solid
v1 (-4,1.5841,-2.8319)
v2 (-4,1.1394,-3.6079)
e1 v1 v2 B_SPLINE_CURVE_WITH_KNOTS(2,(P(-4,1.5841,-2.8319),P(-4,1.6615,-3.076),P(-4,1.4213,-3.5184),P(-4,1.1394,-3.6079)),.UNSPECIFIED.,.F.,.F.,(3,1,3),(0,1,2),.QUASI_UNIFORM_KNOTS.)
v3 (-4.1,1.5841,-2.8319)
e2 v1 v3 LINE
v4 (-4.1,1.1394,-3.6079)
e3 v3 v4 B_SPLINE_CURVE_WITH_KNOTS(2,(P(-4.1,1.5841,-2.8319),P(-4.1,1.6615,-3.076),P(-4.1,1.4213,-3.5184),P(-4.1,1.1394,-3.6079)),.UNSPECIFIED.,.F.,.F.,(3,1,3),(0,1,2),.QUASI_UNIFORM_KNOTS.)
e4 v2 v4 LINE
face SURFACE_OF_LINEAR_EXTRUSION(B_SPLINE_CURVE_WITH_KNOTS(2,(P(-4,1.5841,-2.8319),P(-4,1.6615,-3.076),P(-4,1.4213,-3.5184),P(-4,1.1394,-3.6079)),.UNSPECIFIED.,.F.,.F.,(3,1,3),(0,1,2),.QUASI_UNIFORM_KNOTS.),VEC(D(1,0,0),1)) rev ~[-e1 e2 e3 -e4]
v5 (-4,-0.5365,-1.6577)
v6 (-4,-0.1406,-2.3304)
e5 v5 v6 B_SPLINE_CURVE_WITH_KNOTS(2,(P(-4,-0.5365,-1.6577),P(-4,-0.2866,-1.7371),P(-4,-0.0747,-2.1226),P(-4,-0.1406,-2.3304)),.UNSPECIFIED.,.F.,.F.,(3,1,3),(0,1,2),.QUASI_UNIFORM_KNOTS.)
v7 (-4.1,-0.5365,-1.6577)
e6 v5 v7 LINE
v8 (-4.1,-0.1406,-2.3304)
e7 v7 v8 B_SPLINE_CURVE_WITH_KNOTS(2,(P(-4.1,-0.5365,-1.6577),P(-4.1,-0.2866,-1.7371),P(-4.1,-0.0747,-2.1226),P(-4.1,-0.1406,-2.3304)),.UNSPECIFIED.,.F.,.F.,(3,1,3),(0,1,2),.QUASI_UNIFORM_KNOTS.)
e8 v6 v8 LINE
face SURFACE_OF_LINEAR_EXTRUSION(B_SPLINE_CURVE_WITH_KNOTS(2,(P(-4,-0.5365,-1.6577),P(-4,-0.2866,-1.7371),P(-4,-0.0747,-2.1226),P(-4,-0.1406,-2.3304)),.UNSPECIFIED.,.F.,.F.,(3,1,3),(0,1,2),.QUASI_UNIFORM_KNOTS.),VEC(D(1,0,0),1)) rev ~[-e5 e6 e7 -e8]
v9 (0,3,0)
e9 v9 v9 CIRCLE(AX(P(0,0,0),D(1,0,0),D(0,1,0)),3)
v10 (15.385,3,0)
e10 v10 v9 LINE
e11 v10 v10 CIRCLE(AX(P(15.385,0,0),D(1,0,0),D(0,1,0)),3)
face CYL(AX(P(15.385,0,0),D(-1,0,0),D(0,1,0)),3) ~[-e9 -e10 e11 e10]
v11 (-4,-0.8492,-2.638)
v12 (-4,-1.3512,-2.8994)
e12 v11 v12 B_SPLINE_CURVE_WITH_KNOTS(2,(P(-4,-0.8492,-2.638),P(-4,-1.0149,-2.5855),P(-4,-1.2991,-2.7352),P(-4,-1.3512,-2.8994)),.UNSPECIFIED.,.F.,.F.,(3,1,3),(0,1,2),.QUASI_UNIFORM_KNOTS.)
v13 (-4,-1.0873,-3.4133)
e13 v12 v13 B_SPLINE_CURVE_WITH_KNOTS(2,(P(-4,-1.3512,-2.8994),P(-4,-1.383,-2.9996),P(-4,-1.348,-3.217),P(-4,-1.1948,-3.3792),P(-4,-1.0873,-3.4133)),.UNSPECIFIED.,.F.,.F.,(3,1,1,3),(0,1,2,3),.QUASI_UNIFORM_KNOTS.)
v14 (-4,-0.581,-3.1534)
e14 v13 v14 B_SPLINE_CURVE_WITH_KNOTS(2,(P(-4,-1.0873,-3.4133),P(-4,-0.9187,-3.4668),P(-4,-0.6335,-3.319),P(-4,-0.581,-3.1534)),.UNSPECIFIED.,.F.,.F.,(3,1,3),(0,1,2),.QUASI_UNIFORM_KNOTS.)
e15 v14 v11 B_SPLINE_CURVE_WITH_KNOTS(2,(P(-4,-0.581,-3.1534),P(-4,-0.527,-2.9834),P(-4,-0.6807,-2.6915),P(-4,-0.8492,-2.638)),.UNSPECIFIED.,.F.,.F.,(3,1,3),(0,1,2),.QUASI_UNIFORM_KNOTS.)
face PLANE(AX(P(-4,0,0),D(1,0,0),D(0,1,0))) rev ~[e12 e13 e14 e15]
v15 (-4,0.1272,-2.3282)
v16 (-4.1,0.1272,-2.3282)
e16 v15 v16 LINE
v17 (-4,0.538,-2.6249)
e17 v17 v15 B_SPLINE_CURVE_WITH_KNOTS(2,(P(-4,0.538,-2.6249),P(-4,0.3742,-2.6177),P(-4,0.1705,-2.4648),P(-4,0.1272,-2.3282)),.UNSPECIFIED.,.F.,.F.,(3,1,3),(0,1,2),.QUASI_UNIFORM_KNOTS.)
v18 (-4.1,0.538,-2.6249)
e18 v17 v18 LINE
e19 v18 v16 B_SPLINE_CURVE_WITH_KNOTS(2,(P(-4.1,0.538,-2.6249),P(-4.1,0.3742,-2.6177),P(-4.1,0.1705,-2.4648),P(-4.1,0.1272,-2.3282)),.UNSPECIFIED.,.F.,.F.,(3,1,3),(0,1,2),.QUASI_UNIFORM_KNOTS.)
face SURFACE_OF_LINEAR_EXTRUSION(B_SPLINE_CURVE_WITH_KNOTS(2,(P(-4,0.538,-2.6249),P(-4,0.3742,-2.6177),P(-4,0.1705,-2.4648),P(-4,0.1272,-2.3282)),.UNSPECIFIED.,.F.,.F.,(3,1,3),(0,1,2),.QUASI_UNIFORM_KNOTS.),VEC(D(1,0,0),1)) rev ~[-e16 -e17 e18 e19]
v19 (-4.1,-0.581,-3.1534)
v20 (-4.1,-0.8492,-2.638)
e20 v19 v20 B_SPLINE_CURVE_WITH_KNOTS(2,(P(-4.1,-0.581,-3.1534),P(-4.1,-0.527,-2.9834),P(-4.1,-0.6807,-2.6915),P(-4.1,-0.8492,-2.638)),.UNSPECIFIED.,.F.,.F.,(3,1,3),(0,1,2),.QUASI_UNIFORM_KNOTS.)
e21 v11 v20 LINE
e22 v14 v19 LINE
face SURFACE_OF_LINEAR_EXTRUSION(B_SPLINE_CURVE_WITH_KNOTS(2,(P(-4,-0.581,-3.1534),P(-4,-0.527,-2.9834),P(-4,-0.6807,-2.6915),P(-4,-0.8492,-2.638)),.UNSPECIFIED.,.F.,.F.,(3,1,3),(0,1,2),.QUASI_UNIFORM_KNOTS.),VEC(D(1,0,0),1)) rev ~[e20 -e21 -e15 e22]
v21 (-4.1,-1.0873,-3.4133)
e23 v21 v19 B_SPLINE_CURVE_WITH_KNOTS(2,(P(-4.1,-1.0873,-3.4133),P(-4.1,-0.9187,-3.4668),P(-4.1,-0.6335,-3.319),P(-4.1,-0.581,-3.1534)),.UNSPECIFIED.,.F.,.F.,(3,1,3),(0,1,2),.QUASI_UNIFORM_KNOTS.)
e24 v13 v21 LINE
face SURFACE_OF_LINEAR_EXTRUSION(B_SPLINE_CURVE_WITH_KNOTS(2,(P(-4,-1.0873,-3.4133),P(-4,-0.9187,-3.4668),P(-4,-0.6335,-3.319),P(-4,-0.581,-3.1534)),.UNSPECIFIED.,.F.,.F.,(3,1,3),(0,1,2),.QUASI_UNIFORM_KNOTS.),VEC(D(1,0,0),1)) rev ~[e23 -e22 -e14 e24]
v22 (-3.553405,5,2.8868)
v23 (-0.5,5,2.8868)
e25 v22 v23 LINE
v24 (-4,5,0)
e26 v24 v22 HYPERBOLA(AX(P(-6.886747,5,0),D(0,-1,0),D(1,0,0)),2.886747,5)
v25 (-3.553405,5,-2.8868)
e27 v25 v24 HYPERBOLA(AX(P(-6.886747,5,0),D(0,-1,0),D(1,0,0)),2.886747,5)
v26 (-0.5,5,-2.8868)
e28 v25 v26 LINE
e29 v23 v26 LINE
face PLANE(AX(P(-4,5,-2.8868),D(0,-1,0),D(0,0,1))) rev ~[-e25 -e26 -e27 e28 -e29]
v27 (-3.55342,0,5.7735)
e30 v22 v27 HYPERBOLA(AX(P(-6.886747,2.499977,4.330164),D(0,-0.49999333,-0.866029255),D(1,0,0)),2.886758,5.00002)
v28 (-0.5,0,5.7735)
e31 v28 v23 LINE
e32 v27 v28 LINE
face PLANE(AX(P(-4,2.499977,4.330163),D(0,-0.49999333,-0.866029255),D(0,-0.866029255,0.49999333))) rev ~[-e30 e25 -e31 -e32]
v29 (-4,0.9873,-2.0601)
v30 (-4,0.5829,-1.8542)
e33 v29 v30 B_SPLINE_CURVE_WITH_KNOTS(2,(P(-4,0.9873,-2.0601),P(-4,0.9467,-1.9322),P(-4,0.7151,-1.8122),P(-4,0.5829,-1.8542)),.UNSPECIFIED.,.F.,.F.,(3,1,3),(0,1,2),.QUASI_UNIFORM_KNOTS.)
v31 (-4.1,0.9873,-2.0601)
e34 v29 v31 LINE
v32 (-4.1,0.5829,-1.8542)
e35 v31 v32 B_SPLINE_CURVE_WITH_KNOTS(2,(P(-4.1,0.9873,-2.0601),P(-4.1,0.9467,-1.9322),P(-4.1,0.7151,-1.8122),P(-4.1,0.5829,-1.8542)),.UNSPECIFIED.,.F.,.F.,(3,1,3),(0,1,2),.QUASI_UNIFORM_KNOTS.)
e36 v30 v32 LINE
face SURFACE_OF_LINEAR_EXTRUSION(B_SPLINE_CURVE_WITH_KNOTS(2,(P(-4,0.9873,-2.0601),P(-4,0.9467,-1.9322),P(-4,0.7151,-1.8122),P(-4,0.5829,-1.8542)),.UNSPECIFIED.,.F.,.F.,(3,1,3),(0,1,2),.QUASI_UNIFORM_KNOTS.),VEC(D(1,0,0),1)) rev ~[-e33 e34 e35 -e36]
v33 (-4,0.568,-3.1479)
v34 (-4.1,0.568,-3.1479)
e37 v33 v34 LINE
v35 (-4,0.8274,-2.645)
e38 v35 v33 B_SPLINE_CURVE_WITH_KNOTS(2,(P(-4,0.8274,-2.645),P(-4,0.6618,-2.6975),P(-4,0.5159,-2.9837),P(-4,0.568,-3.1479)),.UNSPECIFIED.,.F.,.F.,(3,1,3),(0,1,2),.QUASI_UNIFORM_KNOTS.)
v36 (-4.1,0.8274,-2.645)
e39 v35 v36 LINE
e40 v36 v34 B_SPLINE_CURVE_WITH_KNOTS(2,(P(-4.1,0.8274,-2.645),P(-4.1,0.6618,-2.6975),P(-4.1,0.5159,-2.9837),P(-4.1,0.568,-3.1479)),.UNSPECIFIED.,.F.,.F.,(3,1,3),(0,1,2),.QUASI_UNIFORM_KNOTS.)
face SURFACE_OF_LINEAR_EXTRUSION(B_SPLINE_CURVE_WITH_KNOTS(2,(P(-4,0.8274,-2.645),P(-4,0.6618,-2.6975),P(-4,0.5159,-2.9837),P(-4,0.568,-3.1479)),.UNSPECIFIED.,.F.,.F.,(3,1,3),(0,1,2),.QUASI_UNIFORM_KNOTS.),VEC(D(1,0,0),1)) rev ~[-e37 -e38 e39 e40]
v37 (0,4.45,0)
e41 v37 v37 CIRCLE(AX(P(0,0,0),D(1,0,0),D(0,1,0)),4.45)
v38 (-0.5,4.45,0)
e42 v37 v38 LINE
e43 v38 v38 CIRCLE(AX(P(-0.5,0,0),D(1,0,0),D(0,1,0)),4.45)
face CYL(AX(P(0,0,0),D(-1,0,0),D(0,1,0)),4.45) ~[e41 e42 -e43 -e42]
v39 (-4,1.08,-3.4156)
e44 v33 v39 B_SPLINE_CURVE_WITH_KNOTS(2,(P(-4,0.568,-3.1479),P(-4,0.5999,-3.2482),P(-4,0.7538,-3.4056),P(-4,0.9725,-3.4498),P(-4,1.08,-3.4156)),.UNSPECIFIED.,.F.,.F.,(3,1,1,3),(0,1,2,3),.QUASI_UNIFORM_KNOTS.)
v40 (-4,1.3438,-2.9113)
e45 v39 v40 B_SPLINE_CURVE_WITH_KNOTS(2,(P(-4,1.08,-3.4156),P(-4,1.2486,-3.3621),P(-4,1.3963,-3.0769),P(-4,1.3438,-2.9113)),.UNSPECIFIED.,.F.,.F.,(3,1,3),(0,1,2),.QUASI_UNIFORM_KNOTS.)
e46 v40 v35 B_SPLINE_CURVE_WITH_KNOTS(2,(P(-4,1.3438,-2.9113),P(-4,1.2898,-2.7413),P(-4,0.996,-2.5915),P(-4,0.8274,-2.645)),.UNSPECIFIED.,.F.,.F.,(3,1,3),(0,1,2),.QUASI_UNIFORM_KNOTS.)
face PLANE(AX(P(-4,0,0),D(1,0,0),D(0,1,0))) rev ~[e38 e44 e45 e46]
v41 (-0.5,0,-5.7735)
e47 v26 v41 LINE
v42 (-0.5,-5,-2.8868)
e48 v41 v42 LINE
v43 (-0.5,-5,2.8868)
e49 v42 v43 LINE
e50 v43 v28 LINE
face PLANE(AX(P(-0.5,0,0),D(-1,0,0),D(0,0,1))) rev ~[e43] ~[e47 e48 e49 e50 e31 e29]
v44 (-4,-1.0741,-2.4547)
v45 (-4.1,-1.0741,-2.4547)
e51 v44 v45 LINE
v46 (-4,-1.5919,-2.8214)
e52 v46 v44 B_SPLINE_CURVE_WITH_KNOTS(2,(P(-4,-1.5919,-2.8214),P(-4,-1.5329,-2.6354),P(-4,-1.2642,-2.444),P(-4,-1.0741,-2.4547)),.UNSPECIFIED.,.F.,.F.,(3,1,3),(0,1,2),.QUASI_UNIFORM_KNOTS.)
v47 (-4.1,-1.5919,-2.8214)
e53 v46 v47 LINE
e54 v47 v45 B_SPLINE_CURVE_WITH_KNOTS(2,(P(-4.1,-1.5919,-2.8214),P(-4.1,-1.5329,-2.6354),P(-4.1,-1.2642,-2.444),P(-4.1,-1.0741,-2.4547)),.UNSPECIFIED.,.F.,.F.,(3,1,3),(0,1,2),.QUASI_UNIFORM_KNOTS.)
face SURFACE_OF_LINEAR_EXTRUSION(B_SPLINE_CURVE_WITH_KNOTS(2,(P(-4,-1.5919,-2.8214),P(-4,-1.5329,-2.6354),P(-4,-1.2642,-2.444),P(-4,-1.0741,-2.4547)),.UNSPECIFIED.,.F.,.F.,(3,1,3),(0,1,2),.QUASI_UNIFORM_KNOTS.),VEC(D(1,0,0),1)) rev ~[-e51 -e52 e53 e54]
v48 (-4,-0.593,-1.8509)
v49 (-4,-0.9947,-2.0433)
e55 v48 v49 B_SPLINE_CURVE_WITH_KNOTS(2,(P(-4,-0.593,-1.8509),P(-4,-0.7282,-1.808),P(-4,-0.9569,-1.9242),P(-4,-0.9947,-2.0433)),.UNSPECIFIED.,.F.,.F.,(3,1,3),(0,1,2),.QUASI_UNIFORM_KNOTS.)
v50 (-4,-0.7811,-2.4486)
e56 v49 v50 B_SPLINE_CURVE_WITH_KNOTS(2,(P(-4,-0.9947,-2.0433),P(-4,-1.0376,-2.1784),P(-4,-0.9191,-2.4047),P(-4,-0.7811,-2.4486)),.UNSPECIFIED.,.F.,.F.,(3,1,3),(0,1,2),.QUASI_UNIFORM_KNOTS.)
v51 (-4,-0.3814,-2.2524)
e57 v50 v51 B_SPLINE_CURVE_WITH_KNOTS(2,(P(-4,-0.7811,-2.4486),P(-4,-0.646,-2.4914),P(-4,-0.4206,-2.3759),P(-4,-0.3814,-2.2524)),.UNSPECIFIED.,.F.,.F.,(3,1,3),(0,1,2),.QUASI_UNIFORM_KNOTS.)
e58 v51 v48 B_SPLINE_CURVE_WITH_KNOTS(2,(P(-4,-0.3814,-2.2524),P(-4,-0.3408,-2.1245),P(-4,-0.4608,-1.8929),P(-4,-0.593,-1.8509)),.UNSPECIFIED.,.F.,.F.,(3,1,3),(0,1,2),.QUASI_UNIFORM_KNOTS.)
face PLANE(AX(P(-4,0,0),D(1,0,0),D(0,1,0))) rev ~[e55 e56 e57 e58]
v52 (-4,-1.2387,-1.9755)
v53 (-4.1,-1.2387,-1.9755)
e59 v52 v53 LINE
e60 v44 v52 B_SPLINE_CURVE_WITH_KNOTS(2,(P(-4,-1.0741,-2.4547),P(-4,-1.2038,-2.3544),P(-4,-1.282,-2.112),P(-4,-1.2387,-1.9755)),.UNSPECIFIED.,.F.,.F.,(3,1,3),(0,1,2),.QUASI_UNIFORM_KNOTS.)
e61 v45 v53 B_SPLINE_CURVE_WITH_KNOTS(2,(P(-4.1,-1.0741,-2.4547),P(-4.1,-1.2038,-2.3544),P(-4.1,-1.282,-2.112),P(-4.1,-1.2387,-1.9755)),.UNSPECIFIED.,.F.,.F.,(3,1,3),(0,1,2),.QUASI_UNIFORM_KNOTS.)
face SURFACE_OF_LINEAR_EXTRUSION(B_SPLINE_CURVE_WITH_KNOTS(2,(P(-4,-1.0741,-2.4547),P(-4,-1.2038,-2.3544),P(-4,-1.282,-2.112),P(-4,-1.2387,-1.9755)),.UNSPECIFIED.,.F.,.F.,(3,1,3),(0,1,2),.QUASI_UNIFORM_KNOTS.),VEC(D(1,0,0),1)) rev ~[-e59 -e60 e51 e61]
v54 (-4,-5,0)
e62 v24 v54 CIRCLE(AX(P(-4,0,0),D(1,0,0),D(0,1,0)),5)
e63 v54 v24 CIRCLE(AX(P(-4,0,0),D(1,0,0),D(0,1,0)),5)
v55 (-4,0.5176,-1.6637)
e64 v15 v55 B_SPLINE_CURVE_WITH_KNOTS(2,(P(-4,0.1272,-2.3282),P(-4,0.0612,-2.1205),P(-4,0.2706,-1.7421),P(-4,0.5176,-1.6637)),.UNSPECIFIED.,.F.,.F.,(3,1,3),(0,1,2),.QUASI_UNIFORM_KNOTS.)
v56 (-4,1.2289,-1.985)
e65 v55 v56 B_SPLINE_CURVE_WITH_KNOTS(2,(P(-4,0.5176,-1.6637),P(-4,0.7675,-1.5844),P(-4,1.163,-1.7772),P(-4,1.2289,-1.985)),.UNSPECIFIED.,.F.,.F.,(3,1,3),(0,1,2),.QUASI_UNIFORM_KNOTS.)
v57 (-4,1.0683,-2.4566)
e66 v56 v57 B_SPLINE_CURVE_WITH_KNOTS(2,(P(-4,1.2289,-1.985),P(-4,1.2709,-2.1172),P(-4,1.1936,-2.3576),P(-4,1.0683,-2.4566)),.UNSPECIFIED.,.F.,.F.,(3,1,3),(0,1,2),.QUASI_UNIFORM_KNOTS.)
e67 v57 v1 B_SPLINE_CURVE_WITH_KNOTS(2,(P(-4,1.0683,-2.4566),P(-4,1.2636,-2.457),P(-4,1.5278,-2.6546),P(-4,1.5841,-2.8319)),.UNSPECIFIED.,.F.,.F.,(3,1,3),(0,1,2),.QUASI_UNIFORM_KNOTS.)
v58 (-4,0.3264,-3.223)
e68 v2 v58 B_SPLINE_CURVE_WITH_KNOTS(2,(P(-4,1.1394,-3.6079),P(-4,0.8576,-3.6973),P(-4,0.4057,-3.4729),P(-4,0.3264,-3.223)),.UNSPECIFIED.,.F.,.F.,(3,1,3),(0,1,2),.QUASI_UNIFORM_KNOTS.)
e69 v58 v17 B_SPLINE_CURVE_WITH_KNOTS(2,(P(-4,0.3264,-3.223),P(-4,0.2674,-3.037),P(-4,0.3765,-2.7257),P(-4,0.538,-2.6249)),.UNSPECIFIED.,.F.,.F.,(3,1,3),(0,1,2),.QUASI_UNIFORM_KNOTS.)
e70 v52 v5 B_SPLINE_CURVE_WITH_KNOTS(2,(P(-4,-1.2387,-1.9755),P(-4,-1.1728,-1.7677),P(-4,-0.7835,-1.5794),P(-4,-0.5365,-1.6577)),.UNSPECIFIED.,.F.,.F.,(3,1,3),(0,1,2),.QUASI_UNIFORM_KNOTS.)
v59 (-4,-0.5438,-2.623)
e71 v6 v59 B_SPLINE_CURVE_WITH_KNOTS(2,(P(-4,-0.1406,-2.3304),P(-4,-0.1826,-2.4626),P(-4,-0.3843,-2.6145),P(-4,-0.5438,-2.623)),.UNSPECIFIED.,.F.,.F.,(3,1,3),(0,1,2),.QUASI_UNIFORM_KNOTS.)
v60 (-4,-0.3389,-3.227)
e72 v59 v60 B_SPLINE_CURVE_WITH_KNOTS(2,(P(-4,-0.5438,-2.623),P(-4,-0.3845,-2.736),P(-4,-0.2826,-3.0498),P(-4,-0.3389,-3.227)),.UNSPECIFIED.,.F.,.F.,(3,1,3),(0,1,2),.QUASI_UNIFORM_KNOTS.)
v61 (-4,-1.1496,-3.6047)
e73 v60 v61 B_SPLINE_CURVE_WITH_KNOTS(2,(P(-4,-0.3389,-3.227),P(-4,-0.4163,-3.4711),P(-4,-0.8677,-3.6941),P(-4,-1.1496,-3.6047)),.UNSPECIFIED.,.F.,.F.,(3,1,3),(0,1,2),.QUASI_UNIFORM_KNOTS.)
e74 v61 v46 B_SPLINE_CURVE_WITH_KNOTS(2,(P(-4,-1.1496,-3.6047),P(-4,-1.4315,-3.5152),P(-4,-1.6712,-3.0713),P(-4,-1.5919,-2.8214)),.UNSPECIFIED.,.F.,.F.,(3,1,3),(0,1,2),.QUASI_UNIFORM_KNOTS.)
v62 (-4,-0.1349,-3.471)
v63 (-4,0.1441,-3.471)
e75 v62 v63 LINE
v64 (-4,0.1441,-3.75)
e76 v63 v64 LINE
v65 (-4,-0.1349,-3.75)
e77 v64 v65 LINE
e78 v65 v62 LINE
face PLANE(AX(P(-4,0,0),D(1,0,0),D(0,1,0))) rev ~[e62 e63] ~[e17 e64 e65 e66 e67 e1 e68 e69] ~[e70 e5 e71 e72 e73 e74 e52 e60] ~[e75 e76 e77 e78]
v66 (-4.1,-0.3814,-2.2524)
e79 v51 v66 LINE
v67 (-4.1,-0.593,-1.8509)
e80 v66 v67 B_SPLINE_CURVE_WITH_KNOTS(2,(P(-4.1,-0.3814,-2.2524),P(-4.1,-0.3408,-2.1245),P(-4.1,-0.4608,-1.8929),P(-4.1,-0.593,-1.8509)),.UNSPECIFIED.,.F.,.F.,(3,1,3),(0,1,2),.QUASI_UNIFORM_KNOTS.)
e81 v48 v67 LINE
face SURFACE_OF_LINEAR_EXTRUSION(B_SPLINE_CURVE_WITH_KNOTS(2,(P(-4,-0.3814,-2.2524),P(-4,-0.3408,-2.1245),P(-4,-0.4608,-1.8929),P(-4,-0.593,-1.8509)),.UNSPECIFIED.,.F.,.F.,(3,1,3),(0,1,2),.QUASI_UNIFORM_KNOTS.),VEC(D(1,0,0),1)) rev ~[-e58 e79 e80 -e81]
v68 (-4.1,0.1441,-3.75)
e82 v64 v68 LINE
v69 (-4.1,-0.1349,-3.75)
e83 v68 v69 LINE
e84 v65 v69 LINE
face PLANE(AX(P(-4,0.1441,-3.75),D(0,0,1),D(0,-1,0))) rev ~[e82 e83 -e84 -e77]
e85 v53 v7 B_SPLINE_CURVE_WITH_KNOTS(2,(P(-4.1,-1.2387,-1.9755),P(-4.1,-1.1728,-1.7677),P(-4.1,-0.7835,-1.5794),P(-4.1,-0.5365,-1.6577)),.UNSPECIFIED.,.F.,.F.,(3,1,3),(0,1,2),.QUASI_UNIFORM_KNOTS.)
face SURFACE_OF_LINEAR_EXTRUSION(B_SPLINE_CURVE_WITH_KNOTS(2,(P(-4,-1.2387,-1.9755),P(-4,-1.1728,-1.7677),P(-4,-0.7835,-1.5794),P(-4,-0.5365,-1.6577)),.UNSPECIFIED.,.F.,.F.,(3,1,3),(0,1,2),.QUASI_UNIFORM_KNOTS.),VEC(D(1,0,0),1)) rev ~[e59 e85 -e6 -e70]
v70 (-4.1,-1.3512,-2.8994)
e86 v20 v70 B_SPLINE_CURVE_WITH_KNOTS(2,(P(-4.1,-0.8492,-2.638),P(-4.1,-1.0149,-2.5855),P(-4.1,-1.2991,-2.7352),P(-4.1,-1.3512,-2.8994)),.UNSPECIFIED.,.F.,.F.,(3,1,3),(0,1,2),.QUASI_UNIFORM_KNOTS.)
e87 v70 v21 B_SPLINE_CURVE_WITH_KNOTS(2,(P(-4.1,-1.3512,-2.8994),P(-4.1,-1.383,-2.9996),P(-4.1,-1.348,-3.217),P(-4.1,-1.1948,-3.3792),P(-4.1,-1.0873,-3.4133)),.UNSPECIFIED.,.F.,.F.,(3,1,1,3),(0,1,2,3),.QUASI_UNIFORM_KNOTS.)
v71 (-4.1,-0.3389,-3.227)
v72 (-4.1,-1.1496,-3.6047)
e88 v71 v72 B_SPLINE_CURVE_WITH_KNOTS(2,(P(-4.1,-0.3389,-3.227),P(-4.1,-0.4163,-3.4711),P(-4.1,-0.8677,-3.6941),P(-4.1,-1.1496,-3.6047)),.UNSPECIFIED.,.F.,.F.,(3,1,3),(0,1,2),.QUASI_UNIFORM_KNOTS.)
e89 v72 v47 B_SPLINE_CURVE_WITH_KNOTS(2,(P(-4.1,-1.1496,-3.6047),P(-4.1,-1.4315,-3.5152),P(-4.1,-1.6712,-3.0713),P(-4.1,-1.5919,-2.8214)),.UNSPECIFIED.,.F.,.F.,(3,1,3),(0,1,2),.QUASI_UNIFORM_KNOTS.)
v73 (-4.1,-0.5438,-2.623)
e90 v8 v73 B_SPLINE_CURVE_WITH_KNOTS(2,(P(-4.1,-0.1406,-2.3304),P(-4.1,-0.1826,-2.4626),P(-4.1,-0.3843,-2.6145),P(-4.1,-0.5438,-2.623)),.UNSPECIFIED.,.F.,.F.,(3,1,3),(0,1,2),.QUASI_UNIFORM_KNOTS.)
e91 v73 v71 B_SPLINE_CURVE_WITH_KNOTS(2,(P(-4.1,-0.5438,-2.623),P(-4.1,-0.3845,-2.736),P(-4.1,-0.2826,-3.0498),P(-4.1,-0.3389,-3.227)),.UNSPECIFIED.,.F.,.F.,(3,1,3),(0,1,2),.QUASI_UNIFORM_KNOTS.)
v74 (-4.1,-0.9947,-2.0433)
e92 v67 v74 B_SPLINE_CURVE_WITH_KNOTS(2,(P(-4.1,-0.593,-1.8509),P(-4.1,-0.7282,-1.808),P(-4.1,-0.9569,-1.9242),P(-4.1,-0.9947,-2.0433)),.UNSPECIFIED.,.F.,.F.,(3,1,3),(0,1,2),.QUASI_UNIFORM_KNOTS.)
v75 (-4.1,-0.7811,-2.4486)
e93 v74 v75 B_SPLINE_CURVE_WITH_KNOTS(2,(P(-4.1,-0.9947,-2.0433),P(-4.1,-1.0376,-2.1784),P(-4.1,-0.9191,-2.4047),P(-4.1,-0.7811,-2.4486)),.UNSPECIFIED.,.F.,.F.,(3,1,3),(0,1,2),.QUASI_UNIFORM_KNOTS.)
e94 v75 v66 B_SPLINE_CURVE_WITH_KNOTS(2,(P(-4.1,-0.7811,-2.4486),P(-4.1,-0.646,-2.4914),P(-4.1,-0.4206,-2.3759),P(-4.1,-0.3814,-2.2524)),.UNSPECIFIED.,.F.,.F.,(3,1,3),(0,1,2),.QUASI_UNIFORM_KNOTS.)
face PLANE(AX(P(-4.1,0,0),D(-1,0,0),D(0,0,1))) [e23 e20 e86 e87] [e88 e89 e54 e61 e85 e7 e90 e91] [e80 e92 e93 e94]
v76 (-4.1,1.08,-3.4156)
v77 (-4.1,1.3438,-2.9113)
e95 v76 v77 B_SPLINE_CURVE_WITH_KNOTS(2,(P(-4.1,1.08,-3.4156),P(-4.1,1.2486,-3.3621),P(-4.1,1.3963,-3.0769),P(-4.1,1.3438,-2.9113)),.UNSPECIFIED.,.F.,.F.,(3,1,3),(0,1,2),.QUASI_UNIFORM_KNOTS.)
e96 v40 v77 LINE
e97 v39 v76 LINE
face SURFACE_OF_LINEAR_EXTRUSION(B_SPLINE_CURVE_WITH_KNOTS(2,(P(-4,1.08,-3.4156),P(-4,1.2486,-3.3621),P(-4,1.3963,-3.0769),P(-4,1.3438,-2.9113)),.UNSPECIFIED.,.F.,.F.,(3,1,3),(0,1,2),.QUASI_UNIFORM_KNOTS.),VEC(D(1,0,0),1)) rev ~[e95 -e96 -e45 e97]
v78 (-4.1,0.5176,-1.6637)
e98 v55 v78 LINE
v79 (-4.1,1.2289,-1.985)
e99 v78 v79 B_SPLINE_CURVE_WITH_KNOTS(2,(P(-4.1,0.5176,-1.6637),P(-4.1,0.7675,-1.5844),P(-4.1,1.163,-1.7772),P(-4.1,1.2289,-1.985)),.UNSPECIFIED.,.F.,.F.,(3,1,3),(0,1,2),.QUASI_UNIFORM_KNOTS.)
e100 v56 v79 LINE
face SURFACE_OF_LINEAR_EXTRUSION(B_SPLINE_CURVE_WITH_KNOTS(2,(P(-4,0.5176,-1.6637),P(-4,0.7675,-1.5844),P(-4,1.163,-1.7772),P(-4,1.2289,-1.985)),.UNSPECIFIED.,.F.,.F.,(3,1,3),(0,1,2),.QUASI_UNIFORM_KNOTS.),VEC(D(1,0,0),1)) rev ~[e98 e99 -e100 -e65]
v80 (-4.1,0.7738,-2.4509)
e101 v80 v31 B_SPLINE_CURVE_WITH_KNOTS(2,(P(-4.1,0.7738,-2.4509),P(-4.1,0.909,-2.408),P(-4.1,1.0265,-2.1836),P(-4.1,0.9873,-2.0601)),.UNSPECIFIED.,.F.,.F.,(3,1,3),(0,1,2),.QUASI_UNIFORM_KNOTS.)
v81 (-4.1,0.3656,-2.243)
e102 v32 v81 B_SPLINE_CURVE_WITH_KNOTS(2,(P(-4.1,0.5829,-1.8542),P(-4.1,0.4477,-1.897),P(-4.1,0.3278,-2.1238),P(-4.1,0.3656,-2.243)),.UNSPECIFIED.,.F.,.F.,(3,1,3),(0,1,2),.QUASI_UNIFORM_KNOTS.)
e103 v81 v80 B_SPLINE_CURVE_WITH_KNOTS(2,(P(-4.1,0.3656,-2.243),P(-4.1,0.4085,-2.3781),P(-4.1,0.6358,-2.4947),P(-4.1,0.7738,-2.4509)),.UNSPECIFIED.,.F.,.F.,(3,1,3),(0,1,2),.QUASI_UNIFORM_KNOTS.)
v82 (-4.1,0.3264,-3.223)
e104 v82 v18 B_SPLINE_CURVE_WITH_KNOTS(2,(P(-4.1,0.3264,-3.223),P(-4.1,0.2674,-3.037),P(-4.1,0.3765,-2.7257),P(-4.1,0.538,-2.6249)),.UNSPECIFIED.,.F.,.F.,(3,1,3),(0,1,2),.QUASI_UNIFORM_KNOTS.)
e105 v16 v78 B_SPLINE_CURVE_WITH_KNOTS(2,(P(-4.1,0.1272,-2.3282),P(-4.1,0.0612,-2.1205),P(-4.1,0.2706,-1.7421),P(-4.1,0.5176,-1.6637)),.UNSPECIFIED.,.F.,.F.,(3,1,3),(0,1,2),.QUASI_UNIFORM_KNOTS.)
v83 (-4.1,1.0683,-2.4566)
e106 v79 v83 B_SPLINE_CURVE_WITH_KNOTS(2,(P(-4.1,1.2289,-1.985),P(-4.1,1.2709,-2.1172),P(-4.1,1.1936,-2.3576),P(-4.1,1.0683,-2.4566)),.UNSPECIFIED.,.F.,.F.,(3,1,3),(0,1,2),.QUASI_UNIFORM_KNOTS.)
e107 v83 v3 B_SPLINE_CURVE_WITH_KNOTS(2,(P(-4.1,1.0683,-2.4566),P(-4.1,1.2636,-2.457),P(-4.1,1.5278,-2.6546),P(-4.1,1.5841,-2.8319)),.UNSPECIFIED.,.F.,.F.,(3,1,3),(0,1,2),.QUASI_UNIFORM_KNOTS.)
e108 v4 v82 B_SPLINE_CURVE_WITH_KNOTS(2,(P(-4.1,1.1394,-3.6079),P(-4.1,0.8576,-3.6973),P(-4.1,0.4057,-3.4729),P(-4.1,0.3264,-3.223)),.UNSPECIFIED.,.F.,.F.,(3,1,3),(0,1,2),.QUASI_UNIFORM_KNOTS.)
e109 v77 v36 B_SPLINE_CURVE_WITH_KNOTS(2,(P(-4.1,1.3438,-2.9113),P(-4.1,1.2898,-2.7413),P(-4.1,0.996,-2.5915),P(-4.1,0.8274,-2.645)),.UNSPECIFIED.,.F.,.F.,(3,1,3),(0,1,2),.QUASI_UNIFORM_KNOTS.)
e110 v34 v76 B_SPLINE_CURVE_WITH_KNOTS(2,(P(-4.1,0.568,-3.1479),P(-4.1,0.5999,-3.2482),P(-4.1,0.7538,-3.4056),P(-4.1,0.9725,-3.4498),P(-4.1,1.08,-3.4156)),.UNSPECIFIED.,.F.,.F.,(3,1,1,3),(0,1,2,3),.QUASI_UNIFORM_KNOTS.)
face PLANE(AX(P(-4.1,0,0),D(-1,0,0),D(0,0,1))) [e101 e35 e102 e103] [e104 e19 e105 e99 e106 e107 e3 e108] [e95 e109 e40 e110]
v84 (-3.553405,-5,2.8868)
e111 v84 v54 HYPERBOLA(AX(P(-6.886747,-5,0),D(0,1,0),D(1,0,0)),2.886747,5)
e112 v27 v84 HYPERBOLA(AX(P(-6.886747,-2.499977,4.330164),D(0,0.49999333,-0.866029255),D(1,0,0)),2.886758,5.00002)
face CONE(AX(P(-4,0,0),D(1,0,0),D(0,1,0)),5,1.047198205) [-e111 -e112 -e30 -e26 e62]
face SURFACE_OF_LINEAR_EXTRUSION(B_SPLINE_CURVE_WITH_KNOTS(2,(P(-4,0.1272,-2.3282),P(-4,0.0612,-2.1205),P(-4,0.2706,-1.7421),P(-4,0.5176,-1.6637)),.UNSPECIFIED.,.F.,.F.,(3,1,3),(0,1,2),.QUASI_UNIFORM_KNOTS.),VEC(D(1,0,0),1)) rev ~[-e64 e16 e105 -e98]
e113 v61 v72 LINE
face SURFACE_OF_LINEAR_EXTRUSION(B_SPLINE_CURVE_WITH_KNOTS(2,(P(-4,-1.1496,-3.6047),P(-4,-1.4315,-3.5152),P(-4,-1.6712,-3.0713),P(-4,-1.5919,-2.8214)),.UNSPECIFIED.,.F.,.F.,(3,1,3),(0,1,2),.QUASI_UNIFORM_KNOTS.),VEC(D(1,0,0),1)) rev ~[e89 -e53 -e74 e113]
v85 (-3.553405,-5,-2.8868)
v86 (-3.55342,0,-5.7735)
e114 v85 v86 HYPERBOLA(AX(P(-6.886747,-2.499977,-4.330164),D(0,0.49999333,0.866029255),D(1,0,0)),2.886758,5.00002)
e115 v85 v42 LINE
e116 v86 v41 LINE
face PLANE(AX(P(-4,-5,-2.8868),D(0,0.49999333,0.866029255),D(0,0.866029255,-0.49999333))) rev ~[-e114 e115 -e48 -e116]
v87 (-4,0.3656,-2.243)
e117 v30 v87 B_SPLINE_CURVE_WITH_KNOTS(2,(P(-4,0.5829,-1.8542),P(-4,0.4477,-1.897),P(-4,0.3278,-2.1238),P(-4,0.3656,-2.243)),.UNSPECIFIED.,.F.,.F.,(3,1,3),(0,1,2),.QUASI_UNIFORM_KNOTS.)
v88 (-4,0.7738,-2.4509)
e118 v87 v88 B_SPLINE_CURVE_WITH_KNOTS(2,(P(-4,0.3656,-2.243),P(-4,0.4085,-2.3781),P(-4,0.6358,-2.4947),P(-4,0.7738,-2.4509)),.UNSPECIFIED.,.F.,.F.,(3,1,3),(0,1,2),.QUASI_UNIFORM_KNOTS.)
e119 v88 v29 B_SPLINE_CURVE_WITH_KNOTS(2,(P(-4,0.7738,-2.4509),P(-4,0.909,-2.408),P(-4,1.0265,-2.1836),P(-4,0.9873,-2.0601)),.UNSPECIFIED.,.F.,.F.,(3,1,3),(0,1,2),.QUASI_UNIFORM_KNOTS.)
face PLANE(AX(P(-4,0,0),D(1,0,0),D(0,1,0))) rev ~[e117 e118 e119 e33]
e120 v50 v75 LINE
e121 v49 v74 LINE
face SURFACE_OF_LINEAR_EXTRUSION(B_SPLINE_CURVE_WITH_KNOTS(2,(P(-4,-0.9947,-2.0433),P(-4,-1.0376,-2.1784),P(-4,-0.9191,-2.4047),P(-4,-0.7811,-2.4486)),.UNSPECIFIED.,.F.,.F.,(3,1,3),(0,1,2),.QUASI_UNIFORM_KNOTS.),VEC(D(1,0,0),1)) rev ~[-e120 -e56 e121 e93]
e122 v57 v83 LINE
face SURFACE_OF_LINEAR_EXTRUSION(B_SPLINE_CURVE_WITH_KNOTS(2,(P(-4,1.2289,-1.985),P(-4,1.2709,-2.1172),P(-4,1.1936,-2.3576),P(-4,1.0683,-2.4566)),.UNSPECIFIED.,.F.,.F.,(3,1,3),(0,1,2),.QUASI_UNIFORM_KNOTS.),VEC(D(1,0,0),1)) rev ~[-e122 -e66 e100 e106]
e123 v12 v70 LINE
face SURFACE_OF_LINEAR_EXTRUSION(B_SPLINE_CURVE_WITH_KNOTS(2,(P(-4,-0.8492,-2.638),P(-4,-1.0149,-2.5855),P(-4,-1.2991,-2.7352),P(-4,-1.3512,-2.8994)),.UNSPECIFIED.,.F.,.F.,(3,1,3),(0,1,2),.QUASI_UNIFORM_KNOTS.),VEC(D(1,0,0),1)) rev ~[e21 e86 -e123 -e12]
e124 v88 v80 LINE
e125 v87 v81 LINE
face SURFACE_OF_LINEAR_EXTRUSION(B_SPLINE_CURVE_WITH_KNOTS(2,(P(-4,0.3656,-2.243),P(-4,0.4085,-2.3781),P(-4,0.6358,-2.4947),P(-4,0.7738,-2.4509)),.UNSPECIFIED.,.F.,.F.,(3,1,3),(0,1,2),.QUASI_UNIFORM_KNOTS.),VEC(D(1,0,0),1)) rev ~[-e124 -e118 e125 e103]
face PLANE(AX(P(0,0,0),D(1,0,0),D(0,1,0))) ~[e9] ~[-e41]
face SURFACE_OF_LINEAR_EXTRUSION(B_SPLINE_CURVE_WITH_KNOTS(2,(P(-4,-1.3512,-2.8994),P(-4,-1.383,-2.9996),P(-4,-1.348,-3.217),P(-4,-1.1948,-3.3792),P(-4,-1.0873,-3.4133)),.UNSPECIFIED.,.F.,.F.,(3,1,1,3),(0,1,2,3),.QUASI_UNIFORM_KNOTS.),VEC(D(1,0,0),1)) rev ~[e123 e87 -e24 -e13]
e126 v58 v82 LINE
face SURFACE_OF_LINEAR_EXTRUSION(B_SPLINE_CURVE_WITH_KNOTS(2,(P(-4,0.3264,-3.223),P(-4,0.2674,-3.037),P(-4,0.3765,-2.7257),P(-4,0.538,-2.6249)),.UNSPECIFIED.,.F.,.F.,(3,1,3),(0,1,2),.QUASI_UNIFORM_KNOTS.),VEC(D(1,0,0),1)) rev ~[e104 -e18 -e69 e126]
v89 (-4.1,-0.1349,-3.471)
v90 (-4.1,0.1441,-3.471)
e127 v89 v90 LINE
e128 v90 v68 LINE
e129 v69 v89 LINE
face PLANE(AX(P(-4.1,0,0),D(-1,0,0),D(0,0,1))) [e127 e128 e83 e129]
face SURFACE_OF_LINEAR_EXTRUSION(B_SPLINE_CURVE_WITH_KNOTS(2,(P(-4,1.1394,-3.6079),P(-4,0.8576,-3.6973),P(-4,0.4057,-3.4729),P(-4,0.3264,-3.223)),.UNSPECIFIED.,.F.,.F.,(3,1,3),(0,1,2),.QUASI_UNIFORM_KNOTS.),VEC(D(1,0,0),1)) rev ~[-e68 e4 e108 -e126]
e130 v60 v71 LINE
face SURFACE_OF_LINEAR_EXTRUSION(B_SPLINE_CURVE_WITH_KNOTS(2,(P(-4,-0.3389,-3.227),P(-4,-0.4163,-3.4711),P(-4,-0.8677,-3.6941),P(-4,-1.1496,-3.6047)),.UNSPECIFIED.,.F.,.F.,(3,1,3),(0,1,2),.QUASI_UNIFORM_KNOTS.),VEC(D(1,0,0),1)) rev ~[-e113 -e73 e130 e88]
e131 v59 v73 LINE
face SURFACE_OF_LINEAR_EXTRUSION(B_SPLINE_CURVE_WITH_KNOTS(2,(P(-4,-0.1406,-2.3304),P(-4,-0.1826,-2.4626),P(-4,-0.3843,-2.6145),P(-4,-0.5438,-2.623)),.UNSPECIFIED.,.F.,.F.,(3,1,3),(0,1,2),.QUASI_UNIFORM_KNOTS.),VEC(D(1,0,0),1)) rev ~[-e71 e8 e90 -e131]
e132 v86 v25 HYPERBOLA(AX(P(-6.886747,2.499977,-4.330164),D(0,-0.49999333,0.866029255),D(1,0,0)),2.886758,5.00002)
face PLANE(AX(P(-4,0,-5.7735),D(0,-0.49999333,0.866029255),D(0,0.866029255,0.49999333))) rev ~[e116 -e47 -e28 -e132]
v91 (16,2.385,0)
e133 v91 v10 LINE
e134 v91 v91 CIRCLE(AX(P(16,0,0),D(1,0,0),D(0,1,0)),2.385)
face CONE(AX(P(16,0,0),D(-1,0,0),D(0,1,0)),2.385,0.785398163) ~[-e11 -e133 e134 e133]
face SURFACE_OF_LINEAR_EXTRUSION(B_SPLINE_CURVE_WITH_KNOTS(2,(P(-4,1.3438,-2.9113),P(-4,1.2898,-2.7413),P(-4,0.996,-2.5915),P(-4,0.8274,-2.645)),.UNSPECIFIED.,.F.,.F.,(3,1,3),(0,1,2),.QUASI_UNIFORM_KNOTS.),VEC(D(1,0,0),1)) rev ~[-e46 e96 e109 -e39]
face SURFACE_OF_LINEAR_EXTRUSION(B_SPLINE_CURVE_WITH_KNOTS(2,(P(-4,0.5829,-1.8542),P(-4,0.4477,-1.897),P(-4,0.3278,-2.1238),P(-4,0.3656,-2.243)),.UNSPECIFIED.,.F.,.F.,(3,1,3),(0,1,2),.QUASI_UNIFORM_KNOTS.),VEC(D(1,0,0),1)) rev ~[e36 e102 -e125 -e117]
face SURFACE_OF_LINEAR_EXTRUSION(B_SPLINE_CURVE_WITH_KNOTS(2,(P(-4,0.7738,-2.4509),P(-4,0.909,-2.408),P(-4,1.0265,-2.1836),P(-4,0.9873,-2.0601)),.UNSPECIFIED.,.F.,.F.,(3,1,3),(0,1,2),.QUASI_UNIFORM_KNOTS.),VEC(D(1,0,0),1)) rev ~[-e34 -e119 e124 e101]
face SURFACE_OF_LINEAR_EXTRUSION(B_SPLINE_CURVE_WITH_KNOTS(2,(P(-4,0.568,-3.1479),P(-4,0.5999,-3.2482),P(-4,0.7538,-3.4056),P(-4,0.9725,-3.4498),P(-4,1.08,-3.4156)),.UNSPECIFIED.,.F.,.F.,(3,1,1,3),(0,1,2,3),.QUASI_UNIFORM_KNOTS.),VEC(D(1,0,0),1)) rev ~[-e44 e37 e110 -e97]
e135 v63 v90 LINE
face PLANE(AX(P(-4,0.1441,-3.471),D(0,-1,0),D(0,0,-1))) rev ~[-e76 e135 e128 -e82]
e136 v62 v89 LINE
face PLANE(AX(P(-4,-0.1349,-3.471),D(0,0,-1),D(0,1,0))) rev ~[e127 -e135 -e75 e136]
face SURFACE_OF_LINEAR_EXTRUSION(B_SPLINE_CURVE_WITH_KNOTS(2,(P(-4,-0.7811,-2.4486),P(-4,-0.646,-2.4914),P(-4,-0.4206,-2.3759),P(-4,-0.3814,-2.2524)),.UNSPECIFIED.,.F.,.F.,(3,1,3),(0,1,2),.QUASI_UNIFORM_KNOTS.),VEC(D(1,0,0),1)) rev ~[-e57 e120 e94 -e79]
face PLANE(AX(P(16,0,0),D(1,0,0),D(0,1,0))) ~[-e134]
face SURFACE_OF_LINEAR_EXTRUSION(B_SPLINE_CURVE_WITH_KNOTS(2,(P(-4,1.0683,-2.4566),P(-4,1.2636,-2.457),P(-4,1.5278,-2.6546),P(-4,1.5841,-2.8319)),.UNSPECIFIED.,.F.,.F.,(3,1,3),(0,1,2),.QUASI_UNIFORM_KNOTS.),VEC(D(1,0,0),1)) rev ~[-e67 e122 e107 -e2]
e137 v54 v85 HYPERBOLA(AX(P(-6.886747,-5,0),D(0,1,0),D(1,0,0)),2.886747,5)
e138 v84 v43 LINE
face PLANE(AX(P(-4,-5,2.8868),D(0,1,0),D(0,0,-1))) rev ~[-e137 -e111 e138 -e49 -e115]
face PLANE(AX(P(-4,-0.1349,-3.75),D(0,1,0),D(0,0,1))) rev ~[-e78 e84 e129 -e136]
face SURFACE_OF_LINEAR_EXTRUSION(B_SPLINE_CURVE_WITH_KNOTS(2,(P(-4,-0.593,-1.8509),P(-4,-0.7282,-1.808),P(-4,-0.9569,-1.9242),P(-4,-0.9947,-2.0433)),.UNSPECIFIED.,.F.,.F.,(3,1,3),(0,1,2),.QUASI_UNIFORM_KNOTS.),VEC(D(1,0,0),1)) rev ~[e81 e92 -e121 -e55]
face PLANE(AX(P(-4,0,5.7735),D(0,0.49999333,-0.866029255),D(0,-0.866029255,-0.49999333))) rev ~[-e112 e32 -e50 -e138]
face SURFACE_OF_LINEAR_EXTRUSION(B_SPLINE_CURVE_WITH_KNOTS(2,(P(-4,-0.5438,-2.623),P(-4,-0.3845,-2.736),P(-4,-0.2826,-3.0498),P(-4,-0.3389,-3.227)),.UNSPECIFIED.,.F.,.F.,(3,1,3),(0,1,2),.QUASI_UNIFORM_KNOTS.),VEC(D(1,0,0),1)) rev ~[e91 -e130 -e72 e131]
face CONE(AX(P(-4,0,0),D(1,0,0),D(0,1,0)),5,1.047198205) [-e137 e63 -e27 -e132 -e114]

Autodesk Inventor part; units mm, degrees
ref_plane "YZ Plane" through (0, 0, 0) normal (1, 0, 0) x (0, 1, 0)
ref_plane "XZ Plane" through (0, 0, 0) normal (0, 1, 0) x (-1, 0, 0)
ref_plane "XY Plane" through (0, 0, 0) normal (0, 0, 1) x (1, 0, 0)
sketch "Sketch1" plane through (0, 0, 0) normal (0, 0, 1) x (1, 0, 0)
  line L0 (-8, 0) -> (20, 0) projected
  line L1 (16, 0) -> (16, 2.385)
  line L2 (16, 2.385) -> (15.385, 3)
  line L3 (15.385, 3) -> (0, 3)
  line L4 (0, 3) -> (0, 4.45)
  line L5 (0, 4.45) -> (-0.5, 4.45)
  line L6 (-0.5, 4.45) -> (-0.5, 5)
  line L7 (-0.5, 5) -> (-4, 5)
  line L8 (-4, 5) -> (-4, 0)
  point P0 (0, 0)
  dimension "d0" = 6
  dimension "d1" = 16
  dimension "d2" = 10
  dimension "d3" = 8.9
  dimension "d4" = 4
  dimension "d5" = 45
  dimension "d6" = 4.77
  dimension "d7" = 0.5
revolve "Revolution1" add sketch "Sketch1" angle 360 about axis through (-10, 0, 0) along (1, 0, 0)
sketch "Sketch2" plane through (-4, 0, 0) normal (-1, 0, 0) x (0, 0, 1)
  circle A0 centre (0, 0) radius 5 projected
  line L0 (2.8868, 5) -> (5.7735, 0)
  line L1 (5.7735, 0) -> (2.8868, -5)
  line L2 (2.8868, -5) -> (-2.8868, -5)
  line L3 (-2.8868, -5) -> (-5.7735, 0)
  line L4 (-5.7735, 0) -> (-2.8868, 5)
  line L5 (-2.8868, 5) -> (2.8868, 5)
  point P0 (0, 5)
extrude "Extrusion1" add sketch "Sketch2" against normal up to surface (3.5 mm away)
sketch "Sketch3" plane through (0, 0, 0) normal (0, 0, 1) x (1, 0, 0)
  line L0 (-4, 5.55) -> (-0.5, 5.55)
  line L1 (-0.5, 5.55) -> (-0.5, 6.66)
  line L2 (-0.5, 6.66) -> (-4, 6.66)
  line L3 (-4, 6.66) -> (-4, 5.55)
  line L4 (-4.8, 0) -> (0.8, 0) projected
  line L5 (-4, 5) -> (-3.0416, 6.66)
  line L6 (-4, 5.55) -> (-4, 5)
  point P0 (0, 0)
  point P1 (-0.5, 5)
  dimension "d11" = 11.1
  dimension "d12" = 1.11
  dimension "d13" = 30
revolve "Revolution2" cut sketch "Sketch3" angle 360 about axis through (-10, 0, 0) along (1, 0, 0) contours L3 L2 L5 L0 | L0 L5 L6
thread "Thread1" size "M6x1" class "6g" standard "ISO Metric profile" full length
sketch "Sketch4" plane through (-4, 0, 0) normal (-1, 0, 0) x (0, 0, 1)
  circle A0 centre (0, 0) radius 3.75 construction
  spline S0 degree 2 poles (-2.4547, -1.0741) (-2.3544, -1.2038) (-2.112, -1.282) (-1.9755, -1.2387) knots 0 0 0 1 2 2 2
  spline S1 degree 2 poles (-1.9755, -1.2387) (-1.7677, -1.1728) (-1.5794, -0.7835) (-1.6577, -0.5365) knots 0 0 0 1 2 2 2
  spline S2 degree 2 poles (-1.6577, -0.5365) (-1.7371, -0.2866) (-2.1226, -0.0747) (-2.3304, -0.1406) knots 0 0 0 1 2 2 2
  spline S3 degree 2 poles (-2.3304, -0.1406) (-2.4626, -0.1826) (-2.6145, -0.3843) (-2.623, -0.5438) knots 0 0 0 1 2 2 2
  spline S4 degree 2 poles (-2.623, -0.5438) (-2.736, -0.3845) (-3.0498, -0.2826) (-3.227, -0.3389) knots 0 0 0 1 2 2 2
  spline S5 degree 2 poles (-3.227, -0.3389) (-3.4711, -0.4163) (-3.6941, -0.8677) (-3.6047, -1.1496) knots 0 0 0 1 2 2 2
  spline S6 degree 2 poles (-3.6047, -1.1496) (-3.5152, -1.4315) (-3.0713, -1.6712) (-2.8214, -1.5919) knots 0 0 0 1 2 2 2
  spline S7 degree 2 poles (-2.8214, -1.5919) (-2.6354, -1.5329) (-2.444, -1.2642) (-2.4547, -1.0741) knots 0 0 0 1 2 2 2
  spline S8 degree 2 poles (-2.8994, -1.3512) (-2.9996, -1.383) (-3.217, -1.348) (-3.3792, -1.1948) (-3.4133, -1.0873) knots 0 0 0 1 2 3 3 3
  spline S9 degree 2 poles (-3.4133, -1.0873) (-3.4668, -0.9187) (-3.319, -0.6335) (-3.1534, -0.581) knots 0 0 0 1 2 2 2
  spline S10 degree 2 poles (-3.1534, -0.581) (-2.9834, -0.527) (-2.6915, -0.6807) (-2.638, -0.8492) knots 0 0 0 1 2 2 2
  spline S11 degree 2 poles (-2.638, -0.8492) (-2.5855, -1.0149) (-2.7352, -1.2991) (-2.8994, -1.3512) knots 0 0 0 1 2 2 2
  spline S12 degree 2 poles (-2.0433, -0.9947) (-2.1784, -1.0376) (-2.4047, -0.9191) (-2.4486, -0.7811) knots 0 0 0 1 2 2 2
  spline S13 degree 2 poles (-2.4486, -0.7811) (-2.4914, -0.646) (-2.3759, -0.4206) (-2.2524, -0.3814) knots 0 0 0 1 2 2 2
  spline S14 degree 2 poles (-2.2524, -0.3814) (-2.1245, -0.3408) (-1.8929, -0.4608) (-1.8509, -0.593) knots 0 0 0 1 2 2 2
  spline S15 degree 2 poles (-1.8509, -0.593) (-1.808, -0.7282) (-1.9242, -0.9569) (-2.0433, -0.9947) knots 0 0 0 1 2 2 2
  line L0 (-3.75, -0.1349) -> (-3.471, -0.1349)
  line L1 (-3.471, -0.1349) -> (-3.471, 0.1441)
  line L2 (-3.471, 0.1441) -> (-3.75, 0.1441)
  line L3 (-3.75, 0.1441) -> (-3.75, -0.1349)
  spline S16 degree 2 poles (-2.6249, 0.538) (-2.6177, 0.3742) (-2.4648, 0.1705) (-2.3282, 0.1272) knots 0 0 0 1 2 2 2
  spline S17 degree 2 poles (-2.3282, 0.1272) (-2.1205, 0.0612) (-1.7421, 0.2706) (-1.6637, 0.5176) knots 0 0 0 1 2 2 2
  spline S18 degree 2 poles (-1.6637, 0.5176) (-1.5844, 0.7675) (-1.7772, 1.163) (-1.985, 1.2289) knots 0 0 0 1 2 2 2
  spline S19 degree 2 poles (-1.985, 1.2289) (-2.1172, 1.2709) (-2.3576, 1.1936) (-2.4566, 1.0683) knots 0 0 0 1 2 2 2
  spline S20 degree 2 poles (-2.4566, 1.0683) (-2.457, 1.2636) (-2.6546, 1.5278) (-2.8319, 1.5841) knots 0 0 0 1 2 2 2
  spline S21 degree 2 poles (-2.8319, 1.5841) (-3.076, 1.6615) (-3.5184, 1.4213) (-3.6079, 1.1394) knots 0 0 0 1 2 2 2
  spline S22 degree 2 poles (-3.6079, 1.1394) (-3.6973, 0.8576) (-3.4729, 0.4057) (-3.223, 0.3264) knots 0 0 0 1 2 2 2
  spline S23 degree 2 poles (-3.223, 0.3264) (-3.037, 0.2674) (-2.7257, 0.3765) (-2.6249, 0.538) knots 0 0 0 1 2 2 2
  spline S24 degree 2 poles (-3.1479, 0.568) (-3.2482, 0.5999) (-3.4056, 0.7538) (-3.4498, 0.9725) (-3.4156, 1.08) knots 0 0 0 1 2 3 3 3
  spline S25 degree 2 poles (-3.4156, 1.08) (-3.3621, 1.2486) (-3.0769, 1.3963) (-2.9113, 1.3438) knots 0 0 0 1 2 2 2
  spline S26 degree 2 poles (-2.9113, 1.3438) (-2.7413, 1.2898) (-2.5915, 0.996) (-2.645, 0.8274) knots 0 0 0 1 2 2 2
  spline S27 degree 2 poles (-2.645, 0.8274) (-2.6975, 0.6618) (-2.9837, 0.5159) (-3.1479, 0.568) knots 0 0 0 1 2 2 2
  spline S28 degree 2 poles (-2.243, 0.3656) (-2.3781, 0.4085) (-2.4947, 0.6358) (-2.4509, 0.7738) knots 0 0 0 1 2 2 2
  spline S29 degree 2 poles (-2.4509, 0.7738) (-2.408, 0.909) (-2.1836, 1.0265) (-2.0601, 0.9873) knots 0 0 0 1 2 2 2
  spline S30 degree 2 poles (-2.0601, 0.9873) (-1.9322, 0.9467) (-1.8122, 0.7151) (-1.8542, 0.5829) knots 0 0 0 1 2 2 2
  spline S31 degree 2 poles (-1.8542, 0.5829) (-1.897, 0.4477) (-2.1238, 0.3278) (-2.243, 0.3656) knots 0 0 0 1 2 2 2
  dimension "d17" = 7.5
extrude "Extrusion2" add sketch "Sketch4" along normal blind 0.1
equation "\"d7\" = 0.125 * d4"
equation "\"d12\" = 0.1 * d11"
properties part number "Sechskantschraube ISO 4017-M6x15-8.8" material "Steel"
